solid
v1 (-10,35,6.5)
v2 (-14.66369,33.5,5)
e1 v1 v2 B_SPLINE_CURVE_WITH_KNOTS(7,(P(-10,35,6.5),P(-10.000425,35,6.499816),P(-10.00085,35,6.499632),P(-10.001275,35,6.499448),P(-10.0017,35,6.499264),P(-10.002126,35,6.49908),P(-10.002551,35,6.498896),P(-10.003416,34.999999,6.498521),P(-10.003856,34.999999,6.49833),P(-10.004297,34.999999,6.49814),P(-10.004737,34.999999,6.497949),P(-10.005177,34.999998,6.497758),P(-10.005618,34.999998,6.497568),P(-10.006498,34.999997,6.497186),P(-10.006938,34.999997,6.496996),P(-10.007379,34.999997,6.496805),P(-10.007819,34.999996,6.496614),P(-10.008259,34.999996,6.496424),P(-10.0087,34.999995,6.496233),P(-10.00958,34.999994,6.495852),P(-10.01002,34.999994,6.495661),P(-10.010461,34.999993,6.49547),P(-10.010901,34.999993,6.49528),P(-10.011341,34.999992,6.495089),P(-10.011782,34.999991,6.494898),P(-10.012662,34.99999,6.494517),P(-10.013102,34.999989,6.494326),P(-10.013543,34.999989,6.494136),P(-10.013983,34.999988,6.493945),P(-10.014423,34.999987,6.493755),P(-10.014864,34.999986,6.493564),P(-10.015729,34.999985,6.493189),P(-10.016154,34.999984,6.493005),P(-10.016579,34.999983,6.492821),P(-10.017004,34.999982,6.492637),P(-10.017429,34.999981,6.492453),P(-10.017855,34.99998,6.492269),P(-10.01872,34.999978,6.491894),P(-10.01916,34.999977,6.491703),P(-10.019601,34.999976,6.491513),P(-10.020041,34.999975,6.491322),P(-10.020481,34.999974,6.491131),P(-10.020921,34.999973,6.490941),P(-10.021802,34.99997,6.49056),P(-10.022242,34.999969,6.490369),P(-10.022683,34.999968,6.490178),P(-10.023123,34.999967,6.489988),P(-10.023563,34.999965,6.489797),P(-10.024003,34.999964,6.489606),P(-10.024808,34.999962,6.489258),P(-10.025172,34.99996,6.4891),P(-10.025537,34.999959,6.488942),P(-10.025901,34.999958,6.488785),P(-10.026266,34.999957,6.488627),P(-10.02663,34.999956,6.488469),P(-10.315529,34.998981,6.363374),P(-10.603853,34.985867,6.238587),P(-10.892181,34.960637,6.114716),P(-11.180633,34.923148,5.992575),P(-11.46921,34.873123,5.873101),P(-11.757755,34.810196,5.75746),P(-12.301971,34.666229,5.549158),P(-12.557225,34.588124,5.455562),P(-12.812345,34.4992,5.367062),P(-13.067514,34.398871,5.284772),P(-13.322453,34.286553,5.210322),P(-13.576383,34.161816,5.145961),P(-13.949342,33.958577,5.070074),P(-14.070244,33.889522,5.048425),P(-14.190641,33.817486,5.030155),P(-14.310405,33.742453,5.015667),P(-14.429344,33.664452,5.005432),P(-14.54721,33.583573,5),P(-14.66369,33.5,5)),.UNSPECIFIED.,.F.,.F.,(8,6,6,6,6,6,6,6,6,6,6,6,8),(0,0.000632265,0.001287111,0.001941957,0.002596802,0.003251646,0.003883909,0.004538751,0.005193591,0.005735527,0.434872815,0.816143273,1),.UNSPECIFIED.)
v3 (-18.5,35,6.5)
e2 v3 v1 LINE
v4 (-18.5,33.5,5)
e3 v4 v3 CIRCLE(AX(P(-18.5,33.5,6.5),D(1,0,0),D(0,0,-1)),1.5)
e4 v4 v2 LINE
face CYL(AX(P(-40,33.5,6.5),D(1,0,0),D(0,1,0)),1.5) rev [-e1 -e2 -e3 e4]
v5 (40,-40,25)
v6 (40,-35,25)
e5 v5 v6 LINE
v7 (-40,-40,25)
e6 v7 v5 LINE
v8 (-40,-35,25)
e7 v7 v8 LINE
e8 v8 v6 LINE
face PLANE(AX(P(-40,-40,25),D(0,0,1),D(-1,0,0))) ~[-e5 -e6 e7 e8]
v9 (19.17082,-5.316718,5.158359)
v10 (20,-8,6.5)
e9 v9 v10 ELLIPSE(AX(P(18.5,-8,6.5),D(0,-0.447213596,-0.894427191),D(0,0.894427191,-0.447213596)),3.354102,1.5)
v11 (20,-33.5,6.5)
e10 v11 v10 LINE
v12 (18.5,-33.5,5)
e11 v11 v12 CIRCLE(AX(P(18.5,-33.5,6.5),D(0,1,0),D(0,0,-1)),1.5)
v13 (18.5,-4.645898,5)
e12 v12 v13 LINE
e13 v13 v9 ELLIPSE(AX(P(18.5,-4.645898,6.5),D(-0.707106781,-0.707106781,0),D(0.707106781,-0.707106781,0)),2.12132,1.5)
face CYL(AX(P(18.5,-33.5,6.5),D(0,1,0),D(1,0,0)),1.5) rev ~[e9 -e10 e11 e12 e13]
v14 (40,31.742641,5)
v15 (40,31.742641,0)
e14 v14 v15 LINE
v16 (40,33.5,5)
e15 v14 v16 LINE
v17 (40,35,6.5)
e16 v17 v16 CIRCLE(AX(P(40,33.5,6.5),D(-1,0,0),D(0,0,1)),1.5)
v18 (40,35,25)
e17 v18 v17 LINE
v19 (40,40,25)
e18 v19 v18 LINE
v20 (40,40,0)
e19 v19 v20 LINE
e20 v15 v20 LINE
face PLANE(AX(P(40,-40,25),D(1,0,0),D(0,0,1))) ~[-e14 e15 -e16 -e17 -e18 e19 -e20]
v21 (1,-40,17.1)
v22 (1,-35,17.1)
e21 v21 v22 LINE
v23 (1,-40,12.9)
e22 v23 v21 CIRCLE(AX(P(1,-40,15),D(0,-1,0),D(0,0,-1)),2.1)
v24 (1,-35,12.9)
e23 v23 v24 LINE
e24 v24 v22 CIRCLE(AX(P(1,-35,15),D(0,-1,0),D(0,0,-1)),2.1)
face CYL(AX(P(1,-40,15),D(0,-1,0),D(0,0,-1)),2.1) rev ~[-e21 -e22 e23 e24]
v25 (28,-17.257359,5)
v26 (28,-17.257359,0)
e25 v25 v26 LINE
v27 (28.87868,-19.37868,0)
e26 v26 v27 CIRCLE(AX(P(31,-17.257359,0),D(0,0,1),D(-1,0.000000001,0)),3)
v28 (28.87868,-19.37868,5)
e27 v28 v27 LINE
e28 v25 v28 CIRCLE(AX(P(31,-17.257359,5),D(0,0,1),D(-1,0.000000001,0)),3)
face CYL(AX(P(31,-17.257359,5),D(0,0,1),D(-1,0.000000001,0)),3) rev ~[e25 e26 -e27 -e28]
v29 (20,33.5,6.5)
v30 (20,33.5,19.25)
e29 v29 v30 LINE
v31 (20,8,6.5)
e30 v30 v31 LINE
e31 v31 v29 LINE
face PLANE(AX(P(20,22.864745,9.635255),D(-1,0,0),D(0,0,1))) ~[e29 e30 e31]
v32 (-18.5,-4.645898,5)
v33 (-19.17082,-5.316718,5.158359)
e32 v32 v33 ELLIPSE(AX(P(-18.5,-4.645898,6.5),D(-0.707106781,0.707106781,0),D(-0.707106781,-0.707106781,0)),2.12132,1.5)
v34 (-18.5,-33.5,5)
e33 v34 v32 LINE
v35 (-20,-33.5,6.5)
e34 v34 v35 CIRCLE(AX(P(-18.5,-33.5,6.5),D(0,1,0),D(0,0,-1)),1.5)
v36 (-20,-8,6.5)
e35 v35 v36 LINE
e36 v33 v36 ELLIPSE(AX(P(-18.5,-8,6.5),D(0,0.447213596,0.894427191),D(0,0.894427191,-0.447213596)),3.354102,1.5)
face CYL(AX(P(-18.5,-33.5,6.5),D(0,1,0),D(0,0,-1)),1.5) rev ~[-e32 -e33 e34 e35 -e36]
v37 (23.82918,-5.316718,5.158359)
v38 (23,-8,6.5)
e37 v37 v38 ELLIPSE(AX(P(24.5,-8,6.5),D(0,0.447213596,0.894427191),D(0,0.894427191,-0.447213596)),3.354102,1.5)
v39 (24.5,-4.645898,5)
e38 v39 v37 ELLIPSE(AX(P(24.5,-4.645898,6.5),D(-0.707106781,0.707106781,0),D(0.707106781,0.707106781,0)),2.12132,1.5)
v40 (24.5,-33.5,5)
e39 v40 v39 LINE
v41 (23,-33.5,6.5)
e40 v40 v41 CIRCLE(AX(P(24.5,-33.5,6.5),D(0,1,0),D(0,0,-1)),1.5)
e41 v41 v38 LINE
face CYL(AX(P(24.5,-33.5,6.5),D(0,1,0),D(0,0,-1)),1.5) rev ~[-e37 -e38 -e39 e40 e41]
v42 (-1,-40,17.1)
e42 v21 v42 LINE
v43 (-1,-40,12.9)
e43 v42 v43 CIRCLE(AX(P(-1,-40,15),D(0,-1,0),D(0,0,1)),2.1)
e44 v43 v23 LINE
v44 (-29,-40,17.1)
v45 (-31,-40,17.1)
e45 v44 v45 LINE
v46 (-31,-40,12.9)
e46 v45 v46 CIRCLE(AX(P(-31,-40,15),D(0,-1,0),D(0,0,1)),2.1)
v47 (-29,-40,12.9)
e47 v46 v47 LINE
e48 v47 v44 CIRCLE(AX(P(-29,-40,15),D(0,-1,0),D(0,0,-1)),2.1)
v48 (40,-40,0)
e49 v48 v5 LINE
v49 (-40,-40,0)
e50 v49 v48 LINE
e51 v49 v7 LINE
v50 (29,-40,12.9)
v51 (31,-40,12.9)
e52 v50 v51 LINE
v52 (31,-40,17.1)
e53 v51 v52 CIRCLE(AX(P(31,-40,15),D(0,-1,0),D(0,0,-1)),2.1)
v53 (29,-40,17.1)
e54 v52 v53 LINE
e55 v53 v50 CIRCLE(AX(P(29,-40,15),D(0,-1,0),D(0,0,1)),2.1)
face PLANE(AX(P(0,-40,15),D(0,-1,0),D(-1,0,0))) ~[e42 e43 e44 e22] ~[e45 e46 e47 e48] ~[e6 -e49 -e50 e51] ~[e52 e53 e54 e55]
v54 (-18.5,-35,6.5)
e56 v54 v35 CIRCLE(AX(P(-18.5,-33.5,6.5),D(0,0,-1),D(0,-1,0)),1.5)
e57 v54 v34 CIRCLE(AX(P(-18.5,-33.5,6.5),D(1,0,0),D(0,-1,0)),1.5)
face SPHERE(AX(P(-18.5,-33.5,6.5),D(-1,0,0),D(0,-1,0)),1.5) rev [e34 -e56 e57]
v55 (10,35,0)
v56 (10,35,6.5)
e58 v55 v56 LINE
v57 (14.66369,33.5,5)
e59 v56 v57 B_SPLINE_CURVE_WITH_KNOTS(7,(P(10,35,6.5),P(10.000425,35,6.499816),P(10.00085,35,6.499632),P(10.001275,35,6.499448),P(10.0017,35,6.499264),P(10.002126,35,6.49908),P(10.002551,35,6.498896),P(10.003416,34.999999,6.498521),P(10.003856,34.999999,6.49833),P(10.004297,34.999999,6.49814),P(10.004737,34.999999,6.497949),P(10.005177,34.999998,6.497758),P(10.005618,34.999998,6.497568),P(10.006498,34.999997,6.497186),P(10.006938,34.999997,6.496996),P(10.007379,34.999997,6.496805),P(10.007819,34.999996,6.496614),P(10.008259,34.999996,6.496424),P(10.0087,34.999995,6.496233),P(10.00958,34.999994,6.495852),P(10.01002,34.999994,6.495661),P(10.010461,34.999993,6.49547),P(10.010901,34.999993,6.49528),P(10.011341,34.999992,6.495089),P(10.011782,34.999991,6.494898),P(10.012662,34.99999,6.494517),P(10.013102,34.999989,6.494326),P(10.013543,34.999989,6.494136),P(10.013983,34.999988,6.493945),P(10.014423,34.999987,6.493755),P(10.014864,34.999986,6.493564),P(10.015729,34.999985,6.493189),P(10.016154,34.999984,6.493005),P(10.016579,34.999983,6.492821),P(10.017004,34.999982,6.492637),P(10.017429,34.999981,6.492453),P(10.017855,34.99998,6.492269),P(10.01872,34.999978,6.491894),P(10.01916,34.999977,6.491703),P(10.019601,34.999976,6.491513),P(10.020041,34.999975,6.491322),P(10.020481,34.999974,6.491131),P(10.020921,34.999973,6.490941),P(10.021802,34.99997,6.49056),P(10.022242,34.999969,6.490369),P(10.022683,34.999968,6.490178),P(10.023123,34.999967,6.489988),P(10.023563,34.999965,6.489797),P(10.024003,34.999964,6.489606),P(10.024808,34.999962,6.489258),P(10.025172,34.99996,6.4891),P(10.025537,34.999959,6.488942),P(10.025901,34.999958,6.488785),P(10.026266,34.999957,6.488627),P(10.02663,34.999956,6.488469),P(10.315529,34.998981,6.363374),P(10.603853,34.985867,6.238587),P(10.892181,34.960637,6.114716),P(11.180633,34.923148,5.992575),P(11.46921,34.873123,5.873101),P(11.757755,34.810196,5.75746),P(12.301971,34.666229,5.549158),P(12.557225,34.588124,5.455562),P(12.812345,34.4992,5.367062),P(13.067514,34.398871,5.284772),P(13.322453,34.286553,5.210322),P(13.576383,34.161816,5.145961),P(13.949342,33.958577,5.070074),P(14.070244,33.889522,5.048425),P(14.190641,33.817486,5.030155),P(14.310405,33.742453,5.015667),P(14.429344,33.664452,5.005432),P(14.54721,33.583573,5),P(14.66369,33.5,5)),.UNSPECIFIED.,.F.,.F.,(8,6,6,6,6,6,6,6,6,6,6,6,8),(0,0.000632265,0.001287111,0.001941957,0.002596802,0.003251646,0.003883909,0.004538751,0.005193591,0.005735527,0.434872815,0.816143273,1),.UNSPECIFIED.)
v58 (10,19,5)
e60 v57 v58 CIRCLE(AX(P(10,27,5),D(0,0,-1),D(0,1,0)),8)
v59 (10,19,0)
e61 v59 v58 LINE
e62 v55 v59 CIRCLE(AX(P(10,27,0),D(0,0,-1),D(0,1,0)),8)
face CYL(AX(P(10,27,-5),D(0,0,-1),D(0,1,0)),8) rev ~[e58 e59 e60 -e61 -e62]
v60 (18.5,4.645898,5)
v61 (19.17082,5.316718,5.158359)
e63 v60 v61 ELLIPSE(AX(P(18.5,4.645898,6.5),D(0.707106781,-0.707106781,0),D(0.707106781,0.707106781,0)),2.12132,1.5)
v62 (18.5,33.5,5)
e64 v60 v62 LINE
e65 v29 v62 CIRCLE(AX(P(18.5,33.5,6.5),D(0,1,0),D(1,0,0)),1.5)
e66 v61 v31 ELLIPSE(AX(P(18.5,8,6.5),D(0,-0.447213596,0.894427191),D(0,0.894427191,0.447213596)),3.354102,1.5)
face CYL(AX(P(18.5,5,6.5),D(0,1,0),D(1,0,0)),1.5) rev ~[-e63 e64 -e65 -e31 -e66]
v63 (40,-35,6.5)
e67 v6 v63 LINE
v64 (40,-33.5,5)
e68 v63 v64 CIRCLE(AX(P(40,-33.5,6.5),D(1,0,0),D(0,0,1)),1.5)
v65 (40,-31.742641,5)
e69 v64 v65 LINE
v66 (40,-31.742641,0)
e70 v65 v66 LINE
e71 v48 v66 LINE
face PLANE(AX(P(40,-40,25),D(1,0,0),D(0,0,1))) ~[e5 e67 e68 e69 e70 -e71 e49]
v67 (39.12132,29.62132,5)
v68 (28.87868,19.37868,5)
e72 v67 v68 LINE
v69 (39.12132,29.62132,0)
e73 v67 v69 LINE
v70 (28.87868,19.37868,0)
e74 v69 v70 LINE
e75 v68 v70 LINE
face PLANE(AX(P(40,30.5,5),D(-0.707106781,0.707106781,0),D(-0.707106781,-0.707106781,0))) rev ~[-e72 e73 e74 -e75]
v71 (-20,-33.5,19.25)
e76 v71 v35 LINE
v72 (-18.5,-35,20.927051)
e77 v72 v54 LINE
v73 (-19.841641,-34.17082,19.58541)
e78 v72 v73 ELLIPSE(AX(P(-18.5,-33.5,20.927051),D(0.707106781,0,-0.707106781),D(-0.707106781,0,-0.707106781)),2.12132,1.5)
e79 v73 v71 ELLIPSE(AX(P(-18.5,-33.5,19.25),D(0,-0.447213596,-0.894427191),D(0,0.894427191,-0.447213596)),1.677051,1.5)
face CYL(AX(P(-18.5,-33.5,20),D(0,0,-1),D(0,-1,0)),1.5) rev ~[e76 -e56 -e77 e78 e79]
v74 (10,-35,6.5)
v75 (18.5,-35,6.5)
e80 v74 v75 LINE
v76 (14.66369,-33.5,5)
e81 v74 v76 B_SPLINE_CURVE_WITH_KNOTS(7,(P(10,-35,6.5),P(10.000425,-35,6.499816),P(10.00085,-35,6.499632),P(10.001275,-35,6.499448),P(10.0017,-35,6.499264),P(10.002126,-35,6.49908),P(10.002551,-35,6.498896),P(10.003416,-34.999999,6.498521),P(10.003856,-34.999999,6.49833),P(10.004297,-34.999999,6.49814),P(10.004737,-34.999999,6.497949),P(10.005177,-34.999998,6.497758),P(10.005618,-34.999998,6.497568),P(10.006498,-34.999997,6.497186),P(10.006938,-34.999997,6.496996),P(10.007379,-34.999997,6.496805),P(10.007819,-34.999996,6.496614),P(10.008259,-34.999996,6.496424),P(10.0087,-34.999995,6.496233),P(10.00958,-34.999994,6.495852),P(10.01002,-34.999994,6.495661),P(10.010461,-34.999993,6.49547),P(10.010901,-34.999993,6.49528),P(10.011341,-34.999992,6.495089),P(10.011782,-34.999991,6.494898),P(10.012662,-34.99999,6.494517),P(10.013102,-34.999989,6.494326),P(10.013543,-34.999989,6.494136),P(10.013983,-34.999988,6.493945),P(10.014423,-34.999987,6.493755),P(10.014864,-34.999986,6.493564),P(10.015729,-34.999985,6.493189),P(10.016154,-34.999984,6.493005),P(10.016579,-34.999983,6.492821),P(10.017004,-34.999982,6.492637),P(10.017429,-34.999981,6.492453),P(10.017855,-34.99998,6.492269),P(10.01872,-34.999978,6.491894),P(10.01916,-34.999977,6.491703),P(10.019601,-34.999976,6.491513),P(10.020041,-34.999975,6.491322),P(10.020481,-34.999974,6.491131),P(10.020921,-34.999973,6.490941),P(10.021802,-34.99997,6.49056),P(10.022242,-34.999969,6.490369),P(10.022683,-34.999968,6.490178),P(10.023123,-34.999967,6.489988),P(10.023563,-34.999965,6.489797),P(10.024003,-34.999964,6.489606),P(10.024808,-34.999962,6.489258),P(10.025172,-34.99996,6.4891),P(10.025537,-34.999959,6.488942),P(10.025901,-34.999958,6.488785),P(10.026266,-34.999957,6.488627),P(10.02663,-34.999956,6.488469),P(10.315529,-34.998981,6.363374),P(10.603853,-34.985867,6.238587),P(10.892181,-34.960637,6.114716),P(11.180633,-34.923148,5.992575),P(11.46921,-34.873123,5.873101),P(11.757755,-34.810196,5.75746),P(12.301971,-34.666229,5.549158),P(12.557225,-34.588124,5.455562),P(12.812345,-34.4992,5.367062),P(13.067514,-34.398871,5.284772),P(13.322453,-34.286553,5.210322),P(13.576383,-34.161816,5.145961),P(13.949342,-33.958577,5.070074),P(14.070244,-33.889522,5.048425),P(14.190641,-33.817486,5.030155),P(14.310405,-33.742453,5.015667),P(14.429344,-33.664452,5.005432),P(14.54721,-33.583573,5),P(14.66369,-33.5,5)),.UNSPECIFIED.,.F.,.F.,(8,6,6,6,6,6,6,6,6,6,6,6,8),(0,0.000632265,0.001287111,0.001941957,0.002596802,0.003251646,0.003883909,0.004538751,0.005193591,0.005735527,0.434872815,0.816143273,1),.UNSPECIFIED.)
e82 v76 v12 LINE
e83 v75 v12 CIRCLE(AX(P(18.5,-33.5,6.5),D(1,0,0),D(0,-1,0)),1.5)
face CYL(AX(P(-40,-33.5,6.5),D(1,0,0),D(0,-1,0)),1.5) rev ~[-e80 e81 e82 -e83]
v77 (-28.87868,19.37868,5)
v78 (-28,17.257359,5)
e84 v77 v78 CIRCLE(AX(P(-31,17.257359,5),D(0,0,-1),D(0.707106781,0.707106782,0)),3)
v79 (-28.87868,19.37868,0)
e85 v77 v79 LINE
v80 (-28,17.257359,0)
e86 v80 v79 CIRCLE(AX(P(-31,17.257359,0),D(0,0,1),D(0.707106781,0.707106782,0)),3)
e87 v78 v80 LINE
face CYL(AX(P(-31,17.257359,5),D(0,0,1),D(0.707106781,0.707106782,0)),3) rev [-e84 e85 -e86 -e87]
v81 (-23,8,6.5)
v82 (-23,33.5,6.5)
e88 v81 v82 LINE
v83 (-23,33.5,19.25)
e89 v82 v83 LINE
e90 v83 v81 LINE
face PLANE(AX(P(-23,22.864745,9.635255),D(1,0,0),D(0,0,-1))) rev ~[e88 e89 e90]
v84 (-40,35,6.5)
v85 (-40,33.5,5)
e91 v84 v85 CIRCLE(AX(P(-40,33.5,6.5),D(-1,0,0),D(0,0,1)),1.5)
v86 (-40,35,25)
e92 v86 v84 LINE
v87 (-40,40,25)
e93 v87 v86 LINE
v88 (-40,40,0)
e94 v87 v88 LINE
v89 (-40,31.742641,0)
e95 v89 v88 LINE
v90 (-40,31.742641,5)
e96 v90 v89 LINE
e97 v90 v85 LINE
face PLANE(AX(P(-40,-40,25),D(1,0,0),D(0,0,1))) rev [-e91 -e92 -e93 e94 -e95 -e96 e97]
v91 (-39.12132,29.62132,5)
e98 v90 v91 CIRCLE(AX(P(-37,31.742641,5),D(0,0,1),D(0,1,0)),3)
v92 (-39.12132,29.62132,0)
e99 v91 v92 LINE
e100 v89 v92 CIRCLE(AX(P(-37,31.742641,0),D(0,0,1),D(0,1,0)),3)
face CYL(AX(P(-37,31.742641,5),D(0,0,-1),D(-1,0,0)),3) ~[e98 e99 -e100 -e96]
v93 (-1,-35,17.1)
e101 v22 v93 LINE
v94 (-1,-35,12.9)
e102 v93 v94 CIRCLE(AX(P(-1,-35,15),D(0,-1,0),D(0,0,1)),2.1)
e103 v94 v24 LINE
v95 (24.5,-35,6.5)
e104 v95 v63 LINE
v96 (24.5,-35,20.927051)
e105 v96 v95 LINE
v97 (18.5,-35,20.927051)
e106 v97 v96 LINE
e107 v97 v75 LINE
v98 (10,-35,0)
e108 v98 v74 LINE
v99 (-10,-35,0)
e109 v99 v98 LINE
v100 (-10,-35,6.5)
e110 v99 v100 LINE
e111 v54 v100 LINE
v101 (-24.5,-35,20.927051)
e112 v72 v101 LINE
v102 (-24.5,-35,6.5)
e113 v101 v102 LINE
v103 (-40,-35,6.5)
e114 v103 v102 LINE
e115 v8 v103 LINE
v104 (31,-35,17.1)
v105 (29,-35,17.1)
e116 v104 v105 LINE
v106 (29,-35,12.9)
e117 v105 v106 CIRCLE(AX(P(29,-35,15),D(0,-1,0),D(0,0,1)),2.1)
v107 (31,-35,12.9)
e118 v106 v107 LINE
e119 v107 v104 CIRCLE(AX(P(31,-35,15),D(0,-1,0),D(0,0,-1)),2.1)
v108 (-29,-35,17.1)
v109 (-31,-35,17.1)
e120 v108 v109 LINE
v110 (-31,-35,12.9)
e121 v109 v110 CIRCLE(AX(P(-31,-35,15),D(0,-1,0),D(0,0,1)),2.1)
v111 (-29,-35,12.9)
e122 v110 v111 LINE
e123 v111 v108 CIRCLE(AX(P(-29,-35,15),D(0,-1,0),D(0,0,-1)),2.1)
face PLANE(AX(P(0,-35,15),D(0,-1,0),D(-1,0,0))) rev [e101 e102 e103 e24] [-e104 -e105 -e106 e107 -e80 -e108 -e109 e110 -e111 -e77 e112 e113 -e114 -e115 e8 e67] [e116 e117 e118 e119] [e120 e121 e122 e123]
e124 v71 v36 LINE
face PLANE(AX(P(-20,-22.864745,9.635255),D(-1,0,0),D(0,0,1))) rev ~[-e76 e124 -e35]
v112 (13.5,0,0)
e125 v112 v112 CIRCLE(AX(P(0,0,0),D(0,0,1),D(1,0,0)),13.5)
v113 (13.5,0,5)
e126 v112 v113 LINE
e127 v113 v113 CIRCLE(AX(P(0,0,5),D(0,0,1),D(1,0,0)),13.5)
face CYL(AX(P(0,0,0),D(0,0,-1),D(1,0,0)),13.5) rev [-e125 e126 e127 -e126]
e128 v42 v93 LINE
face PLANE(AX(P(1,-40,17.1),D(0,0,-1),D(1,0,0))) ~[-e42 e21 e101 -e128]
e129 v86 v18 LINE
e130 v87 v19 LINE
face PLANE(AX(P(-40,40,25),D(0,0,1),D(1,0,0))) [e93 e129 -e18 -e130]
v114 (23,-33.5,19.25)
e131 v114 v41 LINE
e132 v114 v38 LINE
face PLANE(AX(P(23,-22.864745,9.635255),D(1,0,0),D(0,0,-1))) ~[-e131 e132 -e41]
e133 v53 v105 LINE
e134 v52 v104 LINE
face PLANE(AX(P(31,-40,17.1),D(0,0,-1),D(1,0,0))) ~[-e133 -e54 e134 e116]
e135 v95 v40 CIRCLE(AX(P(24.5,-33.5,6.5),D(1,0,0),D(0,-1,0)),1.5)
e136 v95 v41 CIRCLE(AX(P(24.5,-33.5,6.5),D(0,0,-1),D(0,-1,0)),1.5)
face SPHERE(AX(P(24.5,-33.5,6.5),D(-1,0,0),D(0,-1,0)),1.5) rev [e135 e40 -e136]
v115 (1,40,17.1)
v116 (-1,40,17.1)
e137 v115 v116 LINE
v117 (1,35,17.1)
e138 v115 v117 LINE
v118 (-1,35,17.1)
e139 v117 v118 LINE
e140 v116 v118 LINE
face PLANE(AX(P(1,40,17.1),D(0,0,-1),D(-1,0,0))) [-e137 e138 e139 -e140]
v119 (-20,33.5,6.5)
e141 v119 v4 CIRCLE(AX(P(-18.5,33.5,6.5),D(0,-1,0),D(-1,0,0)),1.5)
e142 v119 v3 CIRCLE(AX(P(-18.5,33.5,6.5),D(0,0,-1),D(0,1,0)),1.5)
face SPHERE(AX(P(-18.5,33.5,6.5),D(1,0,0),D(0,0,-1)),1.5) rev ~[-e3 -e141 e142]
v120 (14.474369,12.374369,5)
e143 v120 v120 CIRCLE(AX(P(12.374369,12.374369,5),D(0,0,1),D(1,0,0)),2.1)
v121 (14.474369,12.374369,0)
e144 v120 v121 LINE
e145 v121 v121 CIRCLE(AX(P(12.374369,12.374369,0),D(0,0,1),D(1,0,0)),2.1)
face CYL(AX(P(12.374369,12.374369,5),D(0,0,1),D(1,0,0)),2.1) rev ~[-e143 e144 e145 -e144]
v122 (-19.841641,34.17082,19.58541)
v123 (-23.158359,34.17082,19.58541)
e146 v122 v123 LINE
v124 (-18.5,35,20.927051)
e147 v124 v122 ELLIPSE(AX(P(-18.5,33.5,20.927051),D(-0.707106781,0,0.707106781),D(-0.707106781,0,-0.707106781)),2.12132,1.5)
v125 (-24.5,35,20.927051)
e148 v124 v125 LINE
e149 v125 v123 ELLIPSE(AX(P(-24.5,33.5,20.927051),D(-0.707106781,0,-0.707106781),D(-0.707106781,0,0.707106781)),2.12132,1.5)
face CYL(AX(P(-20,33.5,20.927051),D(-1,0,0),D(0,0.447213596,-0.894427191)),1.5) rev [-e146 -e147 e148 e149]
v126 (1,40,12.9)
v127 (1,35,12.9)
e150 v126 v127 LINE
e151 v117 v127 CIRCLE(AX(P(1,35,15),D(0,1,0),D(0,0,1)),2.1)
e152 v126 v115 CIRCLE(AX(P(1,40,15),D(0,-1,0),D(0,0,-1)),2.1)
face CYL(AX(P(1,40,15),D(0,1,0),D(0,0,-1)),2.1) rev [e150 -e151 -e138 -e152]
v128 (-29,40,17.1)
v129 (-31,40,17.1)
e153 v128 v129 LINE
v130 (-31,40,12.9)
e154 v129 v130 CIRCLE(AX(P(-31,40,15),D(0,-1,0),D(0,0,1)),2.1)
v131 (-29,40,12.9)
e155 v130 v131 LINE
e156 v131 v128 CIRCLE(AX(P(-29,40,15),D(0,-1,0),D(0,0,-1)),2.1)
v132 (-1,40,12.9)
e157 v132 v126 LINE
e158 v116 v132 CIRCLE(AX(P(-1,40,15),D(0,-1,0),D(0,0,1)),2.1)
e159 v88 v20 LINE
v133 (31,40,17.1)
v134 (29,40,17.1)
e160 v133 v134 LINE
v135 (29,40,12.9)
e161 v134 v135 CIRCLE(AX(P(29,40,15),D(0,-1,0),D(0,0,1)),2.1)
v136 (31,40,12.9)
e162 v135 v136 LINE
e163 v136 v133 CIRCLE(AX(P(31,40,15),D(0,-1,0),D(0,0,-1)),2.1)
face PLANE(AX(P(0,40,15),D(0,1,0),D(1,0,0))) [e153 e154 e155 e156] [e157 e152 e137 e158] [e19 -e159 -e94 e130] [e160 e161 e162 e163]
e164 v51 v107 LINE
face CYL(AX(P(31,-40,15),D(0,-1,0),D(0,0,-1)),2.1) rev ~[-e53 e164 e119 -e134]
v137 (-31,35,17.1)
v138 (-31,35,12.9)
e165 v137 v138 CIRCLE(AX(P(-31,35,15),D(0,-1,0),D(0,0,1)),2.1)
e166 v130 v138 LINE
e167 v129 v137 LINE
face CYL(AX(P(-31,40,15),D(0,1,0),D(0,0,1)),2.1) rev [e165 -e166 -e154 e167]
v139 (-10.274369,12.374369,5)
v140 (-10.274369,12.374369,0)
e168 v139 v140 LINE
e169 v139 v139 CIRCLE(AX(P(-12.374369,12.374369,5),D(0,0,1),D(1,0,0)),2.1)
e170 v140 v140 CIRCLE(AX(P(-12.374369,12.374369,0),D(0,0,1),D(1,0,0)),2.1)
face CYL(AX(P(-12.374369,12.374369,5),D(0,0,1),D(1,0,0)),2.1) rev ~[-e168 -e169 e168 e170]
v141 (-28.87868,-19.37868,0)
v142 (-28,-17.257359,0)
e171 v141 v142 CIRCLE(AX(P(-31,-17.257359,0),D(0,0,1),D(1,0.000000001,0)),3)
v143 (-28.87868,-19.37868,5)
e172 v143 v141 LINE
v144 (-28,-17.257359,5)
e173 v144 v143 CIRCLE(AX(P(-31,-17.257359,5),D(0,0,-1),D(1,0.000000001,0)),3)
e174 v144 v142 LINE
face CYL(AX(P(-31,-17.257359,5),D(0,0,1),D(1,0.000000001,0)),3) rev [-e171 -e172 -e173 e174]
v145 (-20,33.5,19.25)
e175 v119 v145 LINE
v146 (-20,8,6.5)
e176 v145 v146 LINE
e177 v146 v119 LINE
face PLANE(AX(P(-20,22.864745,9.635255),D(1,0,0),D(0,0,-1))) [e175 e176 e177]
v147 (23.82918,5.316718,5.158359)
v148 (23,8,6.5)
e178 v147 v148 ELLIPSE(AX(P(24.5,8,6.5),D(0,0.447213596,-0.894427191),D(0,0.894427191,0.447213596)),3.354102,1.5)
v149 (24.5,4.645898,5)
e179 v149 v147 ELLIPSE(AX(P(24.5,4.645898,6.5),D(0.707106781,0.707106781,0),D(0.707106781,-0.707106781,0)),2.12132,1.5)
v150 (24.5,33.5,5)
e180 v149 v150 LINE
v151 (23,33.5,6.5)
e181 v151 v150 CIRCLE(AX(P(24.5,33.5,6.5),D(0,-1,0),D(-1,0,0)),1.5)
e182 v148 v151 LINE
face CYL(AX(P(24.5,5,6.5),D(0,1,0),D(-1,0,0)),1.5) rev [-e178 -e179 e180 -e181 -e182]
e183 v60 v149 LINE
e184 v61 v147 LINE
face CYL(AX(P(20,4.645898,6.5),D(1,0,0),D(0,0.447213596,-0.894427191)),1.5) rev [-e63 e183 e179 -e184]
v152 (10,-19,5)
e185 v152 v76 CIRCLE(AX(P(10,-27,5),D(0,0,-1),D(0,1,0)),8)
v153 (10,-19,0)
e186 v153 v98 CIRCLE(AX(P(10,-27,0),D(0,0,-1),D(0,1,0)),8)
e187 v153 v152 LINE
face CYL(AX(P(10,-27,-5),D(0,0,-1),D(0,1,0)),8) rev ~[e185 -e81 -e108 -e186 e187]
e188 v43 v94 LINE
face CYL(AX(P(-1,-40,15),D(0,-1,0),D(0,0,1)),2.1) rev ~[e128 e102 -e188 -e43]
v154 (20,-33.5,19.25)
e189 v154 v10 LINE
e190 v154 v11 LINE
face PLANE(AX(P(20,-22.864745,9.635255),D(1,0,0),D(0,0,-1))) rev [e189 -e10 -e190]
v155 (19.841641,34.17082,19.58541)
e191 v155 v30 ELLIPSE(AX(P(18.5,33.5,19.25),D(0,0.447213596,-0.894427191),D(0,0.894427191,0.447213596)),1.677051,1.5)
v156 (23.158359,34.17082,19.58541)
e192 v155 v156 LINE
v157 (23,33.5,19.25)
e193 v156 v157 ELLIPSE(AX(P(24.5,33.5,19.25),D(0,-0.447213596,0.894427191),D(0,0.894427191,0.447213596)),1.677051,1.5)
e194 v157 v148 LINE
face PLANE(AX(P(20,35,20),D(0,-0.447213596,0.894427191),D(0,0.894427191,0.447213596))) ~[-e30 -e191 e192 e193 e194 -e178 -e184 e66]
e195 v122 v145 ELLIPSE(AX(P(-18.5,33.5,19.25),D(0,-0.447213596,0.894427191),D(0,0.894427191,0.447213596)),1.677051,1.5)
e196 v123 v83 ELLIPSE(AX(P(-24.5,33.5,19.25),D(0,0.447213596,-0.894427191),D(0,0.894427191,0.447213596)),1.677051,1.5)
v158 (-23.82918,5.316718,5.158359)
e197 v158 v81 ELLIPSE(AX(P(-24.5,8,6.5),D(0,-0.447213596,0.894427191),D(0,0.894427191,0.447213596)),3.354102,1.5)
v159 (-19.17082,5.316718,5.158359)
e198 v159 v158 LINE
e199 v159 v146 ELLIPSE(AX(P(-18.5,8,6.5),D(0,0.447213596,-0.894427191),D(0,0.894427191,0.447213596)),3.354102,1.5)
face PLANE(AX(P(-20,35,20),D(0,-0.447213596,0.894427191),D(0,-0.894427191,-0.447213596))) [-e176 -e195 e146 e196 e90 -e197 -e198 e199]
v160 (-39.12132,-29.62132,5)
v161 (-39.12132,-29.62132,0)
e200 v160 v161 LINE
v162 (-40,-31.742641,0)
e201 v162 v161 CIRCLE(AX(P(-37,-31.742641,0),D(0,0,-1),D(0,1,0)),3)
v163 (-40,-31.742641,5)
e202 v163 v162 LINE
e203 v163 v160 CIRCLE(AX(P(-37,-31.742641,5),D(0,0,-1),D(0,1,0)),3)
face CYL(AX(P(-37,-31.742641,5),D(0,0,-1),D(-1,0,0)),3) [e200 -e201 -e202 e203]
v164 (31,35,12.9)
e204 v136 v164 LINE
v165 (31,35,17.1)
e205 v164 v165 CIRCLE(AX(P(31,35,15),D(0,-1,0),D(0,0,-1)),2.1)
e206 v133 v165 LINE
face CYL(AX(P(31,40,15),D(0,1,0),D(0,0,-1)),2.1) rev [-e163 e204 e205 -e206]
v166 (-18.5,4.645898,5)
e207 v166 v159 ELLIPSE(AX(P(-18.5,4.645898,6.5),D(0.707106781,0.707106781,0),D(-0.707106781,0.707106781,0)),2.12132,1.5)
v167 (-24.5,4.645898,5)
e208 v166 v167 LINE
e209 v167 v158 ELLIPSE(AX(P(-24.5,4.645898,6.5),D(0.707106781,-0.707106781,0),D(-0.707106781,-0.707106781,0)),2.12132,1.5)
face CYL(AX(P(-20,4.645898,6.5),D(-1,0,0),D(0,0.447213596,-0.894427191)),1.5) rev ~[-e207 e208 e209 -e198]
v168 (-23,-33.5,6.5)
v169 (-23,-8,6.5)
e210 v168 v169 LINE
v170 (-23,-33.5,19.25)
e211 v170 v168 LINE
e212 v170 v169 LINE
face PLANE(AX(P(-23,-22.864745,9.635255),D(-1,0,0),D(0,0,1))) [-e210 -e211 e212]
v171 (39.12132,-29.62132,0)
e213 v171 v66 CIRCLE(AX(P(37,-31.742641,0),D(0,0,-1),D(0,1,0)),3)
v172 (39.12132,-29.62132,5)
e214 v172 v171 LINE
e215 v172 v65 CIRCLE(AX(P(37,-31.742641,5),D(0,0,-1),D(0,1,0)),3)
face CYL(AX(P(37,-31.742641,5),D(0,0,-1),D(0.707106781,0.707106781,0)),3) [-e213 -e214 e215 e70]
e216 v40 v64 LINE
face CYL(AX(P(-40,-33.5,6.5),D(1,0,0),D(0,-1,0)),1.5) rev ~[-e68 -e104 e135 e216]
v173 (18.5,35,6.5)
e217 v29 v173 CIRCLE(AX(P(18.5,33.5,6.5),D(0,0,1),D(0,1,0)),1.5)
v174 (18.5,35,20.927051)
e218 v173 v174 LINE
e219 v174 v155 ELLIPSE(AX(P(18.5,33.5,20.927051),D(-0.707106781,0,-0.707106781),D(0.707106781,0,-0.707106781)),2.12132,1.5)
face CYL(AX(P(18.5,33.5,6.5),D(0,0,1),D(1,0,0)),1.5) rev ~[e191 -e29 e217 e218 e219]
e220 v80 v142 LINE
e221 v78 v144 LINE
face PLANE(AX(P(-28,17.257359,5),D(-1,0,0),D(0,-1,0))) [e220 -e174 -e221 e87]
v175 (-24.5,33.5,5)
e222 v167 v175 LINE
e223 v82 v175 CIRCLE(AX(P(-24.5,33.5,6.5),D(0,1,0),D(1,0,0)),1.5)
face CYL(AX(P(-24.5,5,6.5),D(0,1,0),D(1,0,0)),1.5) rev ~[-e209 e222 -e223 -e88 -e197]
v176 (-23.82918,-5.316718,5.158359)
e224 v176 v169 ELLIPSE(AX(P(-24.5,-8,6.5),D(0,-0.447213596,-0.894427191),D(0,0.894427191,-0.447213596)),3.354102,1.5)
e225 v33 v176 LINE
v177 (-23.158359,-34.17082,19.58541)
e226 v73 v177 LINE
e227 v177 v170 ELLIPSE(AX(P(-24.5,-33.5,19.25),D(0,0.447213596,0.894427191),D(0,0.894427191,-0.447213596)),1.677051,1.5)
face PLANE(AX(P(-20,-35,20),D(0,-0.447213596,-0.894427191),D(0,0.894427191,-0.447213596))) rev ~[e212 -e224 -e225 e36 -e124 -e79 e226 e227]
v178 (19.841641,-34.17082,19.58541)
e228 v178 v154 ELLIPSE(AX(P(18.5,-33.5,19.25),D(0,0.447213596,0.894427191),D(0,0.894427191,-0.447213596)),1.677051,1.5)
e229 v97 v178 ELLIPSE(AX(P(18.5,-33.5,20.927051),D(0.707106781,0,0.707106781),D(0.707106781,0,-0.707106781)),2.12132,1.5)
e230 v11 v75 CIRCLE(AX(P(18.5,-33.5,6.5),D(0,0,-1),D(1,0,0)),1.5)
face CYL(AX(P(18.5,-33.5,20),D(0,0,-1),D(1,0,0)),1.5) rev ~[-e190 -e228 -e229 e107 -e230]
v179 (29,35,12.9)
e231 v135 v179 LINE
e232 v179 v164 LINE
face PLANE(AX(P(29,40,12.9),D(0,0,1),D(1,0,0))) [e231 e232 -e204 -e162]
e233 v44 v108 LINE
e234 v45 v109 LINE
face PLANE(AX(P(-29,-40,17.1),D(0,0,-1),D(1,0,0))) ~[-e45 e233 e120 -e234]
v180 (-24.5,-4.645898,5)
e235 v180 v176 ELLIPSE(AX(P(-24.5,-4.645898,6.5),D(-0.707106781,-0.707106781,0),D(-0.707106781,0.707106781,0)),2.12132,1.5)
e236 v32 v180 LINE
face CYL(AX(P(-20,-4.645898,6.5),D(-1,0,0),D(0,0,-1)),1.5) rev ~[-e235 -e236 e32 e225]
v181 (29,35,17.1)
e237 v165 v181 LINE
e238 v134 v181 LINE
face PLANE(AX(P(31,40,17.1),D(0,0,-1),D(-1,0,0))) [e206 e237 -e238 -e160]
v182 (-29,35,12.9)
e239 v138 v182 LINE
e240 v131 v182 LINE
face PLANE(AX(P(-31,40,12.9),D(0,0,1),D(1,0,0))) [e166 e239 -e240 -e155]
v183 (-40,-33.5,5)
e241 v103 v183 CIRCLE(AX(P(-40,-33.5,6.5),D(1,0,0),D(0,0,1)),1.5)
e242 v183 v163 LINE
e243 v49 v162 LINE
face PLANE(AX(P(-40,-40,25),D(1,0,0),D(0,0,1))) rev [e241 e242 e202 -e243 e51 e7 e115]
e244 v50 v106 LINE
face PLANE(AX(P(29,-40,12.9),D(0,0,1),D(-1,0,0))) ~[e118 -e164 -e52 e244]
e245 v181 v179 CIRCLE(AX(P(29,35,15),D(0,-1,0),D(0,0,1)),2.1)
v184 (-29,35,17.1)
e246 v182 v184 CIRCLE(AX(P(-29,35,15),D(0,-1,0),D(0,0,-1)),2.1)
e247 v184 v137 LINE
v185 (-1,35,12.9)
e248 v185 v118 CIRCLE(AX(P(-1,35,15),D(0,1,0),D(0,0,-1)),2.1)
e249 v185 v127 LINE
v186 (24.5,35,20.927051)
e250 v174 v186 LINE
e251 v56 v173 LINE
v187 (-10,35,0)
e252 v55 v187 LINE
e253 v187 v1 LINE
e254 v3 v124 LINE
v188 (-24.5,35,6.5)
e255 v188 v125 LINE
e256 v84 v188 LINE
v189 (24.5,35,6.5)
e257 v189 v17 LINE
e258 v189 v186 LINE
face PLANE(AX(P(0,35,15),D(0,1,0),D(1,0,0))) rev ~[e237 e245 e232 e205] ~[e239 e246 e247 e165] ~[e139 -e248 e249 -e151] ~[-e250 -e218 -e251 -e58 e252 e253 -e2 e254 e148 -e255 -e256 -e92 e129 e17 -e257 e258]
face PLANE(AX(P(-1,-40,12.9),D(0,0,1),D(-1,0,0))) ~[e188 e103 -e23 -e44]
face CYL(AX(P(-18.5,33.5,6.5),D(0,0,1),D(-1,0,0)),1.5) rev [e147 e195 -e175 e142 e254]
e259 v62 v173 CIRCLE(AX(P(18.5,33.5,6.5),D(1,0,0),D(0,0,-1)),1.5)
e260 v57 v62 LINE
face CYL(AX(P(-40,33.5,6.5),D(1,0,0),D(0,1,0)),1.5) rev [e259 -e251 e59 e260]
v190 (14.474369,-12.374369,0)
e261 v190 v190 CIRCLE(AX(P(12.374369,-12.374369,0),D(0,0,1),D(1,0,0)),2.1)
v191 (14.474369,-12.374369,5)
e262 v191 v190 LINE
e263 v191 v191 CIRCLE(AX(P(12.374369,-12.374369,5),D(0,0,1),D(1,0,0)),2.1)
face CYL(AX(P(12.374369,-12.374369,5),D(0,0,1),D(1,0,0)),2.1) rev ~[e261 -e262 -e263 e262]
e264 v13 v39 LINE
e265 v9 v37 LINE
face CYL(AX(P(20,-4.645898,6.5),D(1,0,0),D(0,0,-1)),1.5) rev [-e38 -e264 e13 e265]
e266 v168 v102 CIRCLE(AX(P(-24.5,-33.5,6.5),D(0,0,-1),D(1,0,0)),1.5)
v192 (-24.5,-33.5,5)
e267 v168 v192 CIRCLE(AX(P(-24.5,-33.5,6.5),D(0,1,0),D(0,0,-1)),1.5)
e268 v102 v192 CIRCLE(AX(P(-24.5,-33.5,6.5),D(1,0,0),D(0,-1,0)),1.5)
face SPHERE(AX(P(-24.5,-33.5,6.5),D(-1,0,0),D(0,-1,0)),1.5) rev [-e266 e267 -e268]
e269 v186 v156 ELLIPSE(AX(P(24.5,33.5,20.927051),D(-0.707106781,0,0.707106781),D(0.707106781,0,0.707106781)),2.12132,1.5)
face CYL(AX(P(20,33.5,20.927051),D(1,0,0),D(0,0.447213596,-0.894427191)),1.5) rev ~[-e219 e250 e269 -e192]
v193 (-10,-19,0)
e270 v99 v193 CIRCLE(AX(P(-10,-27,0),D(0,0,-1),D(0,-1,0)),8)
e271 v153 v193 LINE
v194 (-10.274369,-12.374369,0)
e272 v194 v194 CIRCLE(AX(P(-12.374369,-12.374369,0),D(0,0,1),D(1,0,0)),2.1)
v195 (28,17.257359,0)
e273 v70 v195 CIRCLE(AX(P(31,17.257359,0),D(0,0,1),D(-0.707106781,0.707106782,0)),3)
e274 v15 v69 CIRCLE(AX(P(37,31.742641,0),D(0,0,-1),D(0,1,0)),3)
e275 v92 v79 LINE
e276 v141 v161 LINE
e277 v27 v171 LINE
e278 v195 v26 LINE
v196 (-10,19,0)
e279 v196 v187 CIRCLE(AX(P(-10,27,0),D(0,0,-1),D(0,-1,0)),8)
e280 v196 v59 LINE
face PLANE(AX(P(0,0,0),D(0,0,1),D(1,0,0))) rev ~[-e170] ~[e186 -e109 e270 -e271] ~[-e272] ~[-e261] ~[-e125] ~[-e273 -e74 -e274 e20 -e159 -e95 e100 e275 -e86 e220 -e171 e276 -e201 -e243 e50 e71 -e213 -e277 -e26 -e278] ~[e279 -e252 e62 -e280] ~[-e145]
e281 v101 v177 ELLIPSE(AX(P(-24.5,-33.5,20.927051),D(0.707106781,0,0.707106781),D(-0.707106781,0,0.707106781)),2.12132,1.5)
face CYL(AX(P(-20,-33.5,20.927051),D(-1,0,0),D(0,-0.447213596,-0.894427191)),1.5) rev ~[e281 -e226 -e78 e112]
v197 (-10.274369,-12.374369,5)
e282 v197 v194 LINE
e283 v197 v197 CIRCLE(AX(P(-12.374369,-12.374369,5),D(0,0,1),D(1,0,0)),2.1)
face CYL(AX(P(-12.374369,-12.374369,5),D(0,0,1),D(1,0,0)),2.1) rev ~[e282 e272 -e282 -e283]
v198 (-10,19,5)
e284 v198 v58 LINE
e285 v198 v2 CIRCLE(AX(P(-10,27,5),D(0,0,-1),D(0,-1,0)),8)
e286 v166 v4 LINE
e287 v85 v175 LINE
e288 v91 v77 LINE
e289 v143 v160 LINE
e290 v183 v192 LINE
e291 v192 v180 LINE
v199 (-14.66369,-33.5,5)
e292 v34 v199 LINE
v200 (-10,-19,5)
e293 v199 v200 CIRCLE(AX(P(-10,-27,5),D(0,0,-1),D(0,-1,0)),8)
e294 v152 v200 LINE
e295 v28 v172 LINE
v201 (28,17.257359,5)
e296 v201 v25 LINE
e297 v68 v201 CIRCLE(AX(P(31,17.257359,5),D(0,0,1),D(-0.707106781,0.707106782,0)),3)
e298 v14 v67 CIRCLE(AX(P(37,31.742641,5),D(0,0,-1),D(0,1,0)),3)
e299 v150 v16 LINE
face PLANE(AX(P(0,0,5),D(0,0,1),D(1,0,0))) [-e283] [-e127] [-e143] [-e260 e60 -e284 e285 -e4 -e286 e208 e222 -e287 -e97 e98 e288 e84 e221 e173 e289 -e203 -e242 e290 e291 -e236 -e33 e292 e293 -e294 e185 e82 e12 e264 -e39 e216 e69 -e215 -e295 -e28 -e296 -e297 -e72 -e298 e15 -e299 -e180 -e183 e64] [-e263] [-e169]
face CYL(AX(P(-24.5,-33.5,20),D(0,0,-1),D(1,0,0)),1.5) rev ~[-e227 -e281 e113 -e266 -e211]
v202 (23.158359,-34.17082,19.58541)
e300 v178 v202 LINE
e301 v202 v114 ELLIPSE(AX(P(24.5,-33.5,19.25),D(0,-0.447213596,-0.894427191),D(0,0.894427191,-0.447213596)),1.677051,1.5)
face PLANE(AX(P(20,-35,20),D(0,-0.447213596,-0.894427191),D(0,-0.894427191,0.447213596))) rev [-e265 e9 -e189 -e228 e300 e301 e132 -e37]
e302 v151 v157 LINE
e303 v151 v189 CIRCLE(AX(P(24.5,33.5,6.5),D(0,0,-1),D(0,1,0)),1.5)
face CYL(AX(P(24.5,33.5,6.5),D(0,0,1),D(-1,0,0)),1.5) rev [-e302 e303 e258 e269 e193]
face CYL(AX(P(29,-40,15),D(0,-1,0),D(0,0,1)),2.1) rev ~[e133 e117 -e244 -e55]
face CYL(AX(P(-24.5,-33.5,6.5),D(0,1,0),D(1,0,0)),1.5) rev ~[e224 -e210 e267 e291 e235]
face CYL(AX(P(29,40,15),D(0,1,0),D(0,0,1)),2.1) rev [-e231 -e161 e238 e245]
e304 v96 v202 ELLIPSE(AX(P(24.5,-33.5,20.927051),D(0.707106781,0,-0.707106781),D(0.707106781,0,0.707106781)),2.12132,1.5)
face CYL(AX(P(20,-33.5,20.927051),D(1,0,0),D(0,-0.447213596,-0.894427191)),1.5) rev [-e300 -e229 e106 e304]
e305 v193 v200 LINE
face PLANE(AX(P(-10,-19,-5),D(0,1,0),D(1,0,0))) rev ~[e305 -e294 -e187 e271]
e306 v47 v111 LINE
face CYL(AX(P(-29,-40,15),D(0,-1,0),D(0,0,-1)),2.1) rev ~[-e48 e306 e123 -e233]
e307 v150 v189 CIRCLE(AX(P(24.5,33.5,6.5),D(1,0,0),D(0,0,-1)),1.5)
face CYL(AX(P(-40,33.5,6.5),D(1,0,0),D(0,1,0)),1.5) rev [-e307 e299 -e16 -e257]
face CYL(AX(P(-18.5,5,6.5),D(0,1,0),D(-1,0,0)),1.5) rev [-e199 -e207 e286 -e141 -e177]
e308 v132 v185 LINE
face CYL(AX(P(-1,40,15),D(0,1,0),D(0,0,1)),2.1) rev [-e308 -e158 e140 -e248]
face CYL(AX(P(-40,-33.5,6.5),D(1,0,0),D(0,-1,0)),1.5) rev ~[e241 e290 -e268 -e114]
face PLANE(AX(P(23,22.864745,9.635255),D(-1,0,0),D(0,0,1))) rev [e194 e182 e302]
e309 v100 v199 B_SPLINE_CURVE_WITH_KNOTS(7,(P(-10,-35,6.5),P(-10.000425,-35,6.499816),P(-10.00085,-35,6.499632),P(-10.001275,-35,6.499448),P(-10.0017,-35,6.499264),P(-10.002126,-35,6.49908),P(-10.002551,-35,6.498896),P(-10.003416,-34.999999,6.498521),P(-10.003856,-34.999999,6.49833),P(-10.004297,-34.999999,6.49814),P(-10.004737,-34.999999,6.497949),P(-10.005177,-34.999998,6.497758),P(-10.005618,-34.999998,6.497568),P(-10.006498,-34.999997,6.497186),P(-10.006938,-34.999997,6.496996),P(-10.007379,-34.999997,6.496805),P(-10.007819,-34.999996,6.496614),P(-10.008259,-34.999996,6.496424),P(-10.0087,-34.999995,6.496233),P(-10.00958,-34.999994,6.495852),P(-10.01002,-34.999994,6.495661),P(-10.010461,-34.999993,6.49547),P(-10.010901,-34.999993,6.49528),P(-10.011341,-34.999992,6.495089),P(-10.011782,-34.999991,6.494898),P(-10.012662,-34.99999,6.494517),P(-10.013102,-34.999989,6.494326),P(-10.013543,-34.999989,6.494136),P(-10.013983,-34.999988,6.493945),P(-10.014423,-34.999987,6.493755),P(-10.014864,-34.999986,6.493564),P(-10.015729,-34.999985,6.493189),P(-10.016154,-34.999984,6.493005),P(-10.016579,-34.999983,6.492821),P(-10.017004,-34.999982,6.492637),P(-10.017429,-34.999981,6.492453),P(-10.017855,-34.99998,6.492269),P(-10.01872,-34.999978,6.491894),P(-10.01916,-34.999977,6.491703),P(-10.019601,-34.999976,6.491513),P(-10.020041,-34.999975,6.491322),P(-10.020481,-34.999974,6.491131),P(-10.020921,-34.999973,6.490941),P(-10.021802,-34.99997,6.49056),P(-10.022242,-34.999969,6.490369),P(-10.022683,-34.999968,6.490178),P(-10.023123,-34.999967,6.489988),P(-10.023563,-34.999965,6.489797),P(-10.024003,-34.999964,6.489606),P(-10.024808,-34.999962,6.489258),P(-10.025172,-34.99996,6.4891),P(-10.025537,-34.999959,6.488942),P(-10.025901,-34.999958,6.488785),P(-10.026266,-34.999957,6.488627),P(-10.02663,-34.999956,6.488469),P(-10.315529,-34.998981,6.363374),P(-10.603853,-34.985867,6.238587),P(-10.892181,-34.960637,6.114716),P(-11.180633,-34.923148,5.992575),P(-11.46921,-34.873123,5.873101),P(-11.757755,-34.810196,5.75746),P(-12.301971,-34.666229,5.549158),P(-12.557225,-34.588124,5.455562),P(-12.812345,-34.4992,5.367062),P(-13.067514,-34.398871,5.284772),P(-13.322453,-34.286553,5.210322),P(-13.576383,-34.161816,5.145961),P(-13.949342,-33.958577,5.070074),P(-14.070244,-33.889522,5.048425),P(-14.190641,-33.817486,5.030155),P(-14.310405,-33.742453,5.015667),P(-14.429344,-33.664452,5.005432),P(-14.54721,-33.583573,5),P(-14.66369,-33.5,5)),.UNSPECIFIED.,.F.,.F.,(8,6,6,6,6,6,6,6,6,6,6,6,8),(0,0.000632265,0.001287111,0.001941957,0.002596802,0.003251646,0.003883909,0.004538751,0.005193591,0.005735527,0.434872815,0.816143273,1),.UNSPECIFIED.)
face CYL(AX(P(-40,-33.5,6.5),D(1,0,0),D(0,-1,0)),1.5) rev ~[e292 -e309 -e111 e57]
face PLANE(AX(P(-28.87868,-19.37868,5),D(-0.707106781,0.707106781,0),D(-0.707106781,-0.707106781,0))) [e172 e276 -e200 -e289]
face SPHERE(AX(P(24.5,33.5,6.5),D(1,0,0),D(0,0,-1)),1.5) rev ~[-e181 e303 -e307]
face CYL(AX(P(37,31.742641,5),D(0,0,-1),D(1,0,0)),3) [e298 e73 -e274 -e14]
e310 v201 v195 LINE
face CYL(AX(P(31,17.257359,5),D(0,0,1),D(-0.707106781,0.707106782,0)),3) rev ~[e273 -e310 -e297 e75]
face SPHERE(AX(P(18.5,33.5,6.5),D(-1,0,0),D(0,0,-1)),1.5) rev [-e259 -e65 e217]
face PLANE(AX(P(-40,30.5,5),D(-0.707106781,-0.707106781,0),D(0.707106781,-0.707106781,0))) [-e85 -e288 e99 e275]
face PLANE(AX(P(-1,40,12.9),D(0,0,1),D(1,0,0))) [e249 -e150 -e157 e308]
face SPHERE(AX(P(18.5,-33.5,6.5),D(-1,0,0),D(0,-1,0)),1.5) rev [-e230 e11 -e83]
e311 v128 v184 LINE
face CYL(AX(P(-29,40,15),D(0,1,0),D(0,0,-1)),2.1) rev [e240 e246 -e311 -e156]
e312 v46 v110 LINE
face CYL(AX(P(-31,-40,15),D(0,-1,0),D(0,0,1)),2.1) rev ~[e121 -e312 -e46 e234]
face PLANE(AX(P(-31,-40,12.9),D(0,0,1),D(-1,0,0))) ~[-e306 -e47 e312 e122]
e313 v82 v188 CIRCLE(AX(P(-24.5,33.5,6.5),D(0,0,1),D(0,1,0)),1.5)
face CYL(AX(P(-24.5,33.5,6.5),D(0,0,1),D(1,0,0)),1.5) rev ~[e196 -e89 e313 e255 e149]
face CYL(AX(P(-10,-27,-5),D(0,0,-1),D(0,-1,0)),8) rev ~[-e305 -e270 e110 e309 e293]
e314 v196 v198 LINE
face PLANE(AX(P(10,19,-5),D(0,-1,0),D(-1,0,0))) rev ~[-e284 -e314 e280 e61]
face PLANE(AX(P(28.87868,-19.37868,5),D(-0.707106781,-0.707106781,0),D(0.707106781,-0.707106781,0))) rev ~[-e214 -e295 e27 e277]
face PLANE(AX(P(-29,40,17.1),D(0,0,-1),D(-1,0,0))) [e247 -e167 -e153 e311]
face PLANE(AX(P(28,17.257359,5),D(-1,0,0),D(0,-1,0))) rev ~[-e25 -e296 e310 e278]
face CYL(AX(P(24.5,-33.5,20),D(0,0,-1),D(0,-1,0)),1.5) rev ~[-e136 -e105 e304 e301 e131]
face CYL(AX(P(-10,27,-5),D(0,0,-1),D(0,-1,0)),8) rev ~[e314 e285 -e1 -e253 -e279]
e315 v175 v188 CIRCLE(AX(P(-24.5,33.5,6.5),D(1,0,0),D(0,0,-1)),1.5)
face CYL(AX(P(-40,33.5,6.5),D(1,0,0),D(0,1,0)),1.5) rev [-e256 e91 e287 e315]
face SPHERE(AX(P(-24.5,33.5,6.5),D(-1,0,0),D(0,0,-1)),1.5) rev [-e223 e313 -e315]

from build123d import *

# Parameters (mm, degrees)
SKETCH_1_W               = 80
SKETCH_1_H               = 80
SKETCH_1_R               = 13.5
EXTRUDE_1_DEPTH          = 5
SKETCH_2_R               = 2.1
CUT_EXTRUDE_1_DEPTH      = 5
SKETCH_3_W               = 80
SKETCH_3_H               = 20
EXTRUDE_2_DEPTH          = 5
CUT_EXTRUDE_2_DEPTH      = 5
FILLET_1_R               = 1.5
FILLET_1_OF_MIRROR_1_R   = 1.5
EXTRUDE_3_DEPTH          = 3
FILLET_2_R               = 1.5
FILLET_2_OF_MIRROR_2_R   = 1.5
CUT_EXTRUDE_3_DEPTH      = 10
FILLET_3_R               = 3
CUT_EXTRUDE_4_DEPTH      = 10
CUT_EXTRUDE_4_DEPTH_BACK = 10


with BuildPart() as part:
    # 草图1 → 凸台-拉伸1 (new body)
    with BuildSketch(Plane.XY):
        Rectangle(SKETCH_1_W, SKETCH_1_H)
        Circle(SKETCH_1_R, mode=Mode.SUBTRACT)
    extrude(amount=EXTRUDE_1_DEPTH)

    # 草图2 → 切除-拉伸1 (cut)
    with BuildSketch(Plane.XY.offset(5)):
        with Locations((-12.374368671, 12.374368671)):
            Circle(SKETCH_2_R)
        with Locations((12.374368671, 12.374368671)):
            Circle(SKETCH_2_R)
        with Locations((-12.374368671, -12.374368671)):
            Circle(SKETCH_2_R)
        with Locations((12.374368671, -12.374368671)):
            Circle(SKETCH_2_R)
    extrude(amount=-CUT_EXTRUDE_1_DEPTH, mode=Mode.SUBTRACT)

    # 草图3 → 凸台-拉伸2 (add)
    with BuildSketch(Plane(origin=(0, 40, 0), x_dir=(1, 0, 0), z_dir=(0, 1, 0))):
        with Locations((0, -15)):
            Rectangle(SKETCH_3_W, SKETCH_3_H)
    extrude_2 = extrude(amount=-EXTRUDE_2_DEPTH)

    # 草图4 → 切除-拉伸2 (cut)
    with BuildSketch(Plane(origin=(0, 40, 0), x_dir=(1, 0, 0), z_dir=(0, 1, 0))):
        with BuildLine():
            Line((-31, -12.9), (-29, -12.9))
            ThreePointArc((-29, -12.9), (-26.9, -15), (-29, -17.1))
            Line((-29, -17.1), (-31, -17.1))
            ThreePointArc((-31, -17.1), (-33.1, -15), (-31, -12.9))
        make_face()
        with BuildLine():
            Line((-1, -12.9), (1, -12.9))
            ThreePointArc((1, -12.9), (3.1, -15), (1, -17.1))
            Line((1, -17.1), (-1, -17.1))
            ThreePointArc((-1, -17.1), (-3.1, -15), (-1, -12.9))
        make_face()
        with BuildLine():
            Line((29, -12.9), (31, -12.9))
            ThreePointArc((31, -12.9), (33.1, -15), (31, -17.1))
            Line((31, -17.1), (29, -17.1))
            ThreePointArc((29, -17.1), (26.9, -15), (29, -12.9))
        make_face()
    cut_extrude_2 = extrude(amount=-CUT_EXTRUDE_2_DEPTH, mode=Mode.SUBTRACT)

    # 圆角1
    fillet_1_edges = [part.edges().sort_by_distance(p)[0] for p in [
        (0, 35, 5),
    ]]
    fillet(fillet_1_edges, radius=FILLET_1_R)

    # 镜向1: 凸台-拉伸2, 切除-拉伸2 across plane
    add(extrude_2.mirror(Plane.ZX))
    add(cut_extrude_2.mirror(Plane.ZX), mode=Mode.SUBTRACT)

    # 圆角1 of 镜向1
    fillet_1_of_mirror_1_edges = [part.edges().sort_by_distance(p)[0] for p in [
        (0, -35, 5),
    ]]
    fillet(fillet_1_of_mirror_1_edges, radius=FILLET_1_OF_MIRROR_1_R)

    # 草图5 → 凸台-拉伸3 (add)
    with BuildSketch(Plane.ZY.offset(20)):
        Polygon((20, 35), (5, 5), (5, 35), align=None)
        Polygon((20, -35), (5, -5), (5, -35), align=None)
    extrude_3 = extrude(amount=EXTRUDE_3_DEPTH)

    # 圆角2
    fillet_2_edges = [part.edges().sort_by_distance(p)[0] for p in [
        (-20, 34.560660172, 5.439339828),
        (-23, 34.560660172, 5.439339828),
        (-20, 35, 13.25),
        (-21.5, 35, 20),
        (-23, 19.25, 5),
        (-23, 35, 13.25),
        (-20, 19.25, 5),
        (-21.5, 5, 5),
        (-20, -34.560660172, 5.439339828),
        (-23, -34.560660172, 5.439339828),
        (-20, -19.25, 5),
        (-21.5, -5, 5),
        (-23, -19.25, 5),
        (-23, -35, 13.25),
        (-20, -35, 13.25),
        (-21.5, -35, 20),
    ]]
    fillet(fillet_2_edges, radius=FILLET_2_R)

    # 镜向2: 凸台-拉伸3 across plane
    add(extrude_3.mirror(Plane(origin=(0, 0, 0), x_dir=(0, 0, 1), z_dir=(1, 0, 0))))

    # 圆角2 of 镜向2
    fillet_2_of_mirror_2_edges = [part.edges().sort_by_distance(p)[0] for p in [
        (20, 34.560660172, 5.439339828),
        (23, 34.560660172, 5.439339828),
        (20, 35, 13.25),
        (21.5, 35, 20),
        (23, 19.25, 5),
        (23, 35, 13.25),
        (20, 19.25, 5),
        (21.5, 5, 5),
        (20, -34.560660172, 5.439339828),
        (23, -34.560660172, 5.439339828),
        (20, -19.25, 5),
        (21.5, -5, 5),
        (23, -19.25, 5),
        (23, -35, 13.25),
        (20, -35, 13.25),
        (21.5, -35, 20),
    ]]
    fillet(fillet_2_of_mirror_2_edges, radius=FILLET_2_OF_MIRROR_2_R)

    # 草图6 → 切除-拉伸3 (cut)
    with BuildSketch(Plane.XY.offset(5)):
        with BuildLine():
            Line((-40, 30.5), (-28.878679656, 19.378679656))
            ThreePointArc((-28.878679656, 19.378679656), (-28.228361402, 18.40540961), (-28, 17.257359313))
            Line((-28, 17.257359313), (-28, -17.257359313))
            ThreePointArc((-28, -17.257359313), (-28.228361402, -18.40540961), (-28.878679656, -19.378679656))
            Line((-28.878679656, -19.378679656), (-40, -30.5))
            Line((-40, -30.5), (-40, 30.5))
        make_face()
        with BuildLine():
            Line((40, -30.5), (40, 30.5))
            Line((40, 30.5), (28.878679656, 19.378679656))
            ThreePointArc((28.878679656, 19.378679656), (28.228361402, 18.40540961), (28, 17.257359313))
            Line((28, 17.257359313), (28, -17.257359313))
            ThreePointArc((28, -17.257359313), (28.228361402, -18.40540961), (28.878679656, -19.378679656))
            Line((28.878679656, -19.378679656), (40, -30.5))
        make_face()
    extrude(amount=-CUT_EXTRUDE_3_DEPTH, mode=Mode.SUBTRACT)

    # 圆角3
    fillet_3_edges = [part.edges().sort_by_distance(p)[0] for p in [
        (-40, -30.5, 2.5),
        (-40, 30.5, 2.5),
        (40, 30.5, 2.5),
        (40, -30.5, 2.5),
    ]]
    fillet(fillet_3_edges, radius=FILLET_3_R)

    # 草图7 → 切除-拉伸4 (cut, two sides: drawn at the far end of the back side and taken through both)
    with BuildSketch(Plane.XY.offset(5).offset(-CUT_EXTRUDE_4_DEPTH_BACK)):
        with BuildLine():
            Line((-10, 35), (10, 35))
            ThreePointArc((10, 35), (18, 27), (10, 19))
            Line((10, 19), (-10, 19))
            ThreePointArc((-10, 19), (-18, 27), (-10, 35))
        make_face()
        with BuildLine():
            Line((-10, -19), (10, -19))
            ThreePointArc((10, -19), (18, -27), (10, -35))
            Line((10, -35), (-10, -35))
            ThreePointArc((-10, -35), (-18, -27), (-10, -19))
        make_face()
    extrude(amount=CUT_EXTRUDE_4_DEPTH + CUT_EXTRUDE_4_DEPTH_BACK, mode=Mode.SUBTRACT)


solid = part.part
